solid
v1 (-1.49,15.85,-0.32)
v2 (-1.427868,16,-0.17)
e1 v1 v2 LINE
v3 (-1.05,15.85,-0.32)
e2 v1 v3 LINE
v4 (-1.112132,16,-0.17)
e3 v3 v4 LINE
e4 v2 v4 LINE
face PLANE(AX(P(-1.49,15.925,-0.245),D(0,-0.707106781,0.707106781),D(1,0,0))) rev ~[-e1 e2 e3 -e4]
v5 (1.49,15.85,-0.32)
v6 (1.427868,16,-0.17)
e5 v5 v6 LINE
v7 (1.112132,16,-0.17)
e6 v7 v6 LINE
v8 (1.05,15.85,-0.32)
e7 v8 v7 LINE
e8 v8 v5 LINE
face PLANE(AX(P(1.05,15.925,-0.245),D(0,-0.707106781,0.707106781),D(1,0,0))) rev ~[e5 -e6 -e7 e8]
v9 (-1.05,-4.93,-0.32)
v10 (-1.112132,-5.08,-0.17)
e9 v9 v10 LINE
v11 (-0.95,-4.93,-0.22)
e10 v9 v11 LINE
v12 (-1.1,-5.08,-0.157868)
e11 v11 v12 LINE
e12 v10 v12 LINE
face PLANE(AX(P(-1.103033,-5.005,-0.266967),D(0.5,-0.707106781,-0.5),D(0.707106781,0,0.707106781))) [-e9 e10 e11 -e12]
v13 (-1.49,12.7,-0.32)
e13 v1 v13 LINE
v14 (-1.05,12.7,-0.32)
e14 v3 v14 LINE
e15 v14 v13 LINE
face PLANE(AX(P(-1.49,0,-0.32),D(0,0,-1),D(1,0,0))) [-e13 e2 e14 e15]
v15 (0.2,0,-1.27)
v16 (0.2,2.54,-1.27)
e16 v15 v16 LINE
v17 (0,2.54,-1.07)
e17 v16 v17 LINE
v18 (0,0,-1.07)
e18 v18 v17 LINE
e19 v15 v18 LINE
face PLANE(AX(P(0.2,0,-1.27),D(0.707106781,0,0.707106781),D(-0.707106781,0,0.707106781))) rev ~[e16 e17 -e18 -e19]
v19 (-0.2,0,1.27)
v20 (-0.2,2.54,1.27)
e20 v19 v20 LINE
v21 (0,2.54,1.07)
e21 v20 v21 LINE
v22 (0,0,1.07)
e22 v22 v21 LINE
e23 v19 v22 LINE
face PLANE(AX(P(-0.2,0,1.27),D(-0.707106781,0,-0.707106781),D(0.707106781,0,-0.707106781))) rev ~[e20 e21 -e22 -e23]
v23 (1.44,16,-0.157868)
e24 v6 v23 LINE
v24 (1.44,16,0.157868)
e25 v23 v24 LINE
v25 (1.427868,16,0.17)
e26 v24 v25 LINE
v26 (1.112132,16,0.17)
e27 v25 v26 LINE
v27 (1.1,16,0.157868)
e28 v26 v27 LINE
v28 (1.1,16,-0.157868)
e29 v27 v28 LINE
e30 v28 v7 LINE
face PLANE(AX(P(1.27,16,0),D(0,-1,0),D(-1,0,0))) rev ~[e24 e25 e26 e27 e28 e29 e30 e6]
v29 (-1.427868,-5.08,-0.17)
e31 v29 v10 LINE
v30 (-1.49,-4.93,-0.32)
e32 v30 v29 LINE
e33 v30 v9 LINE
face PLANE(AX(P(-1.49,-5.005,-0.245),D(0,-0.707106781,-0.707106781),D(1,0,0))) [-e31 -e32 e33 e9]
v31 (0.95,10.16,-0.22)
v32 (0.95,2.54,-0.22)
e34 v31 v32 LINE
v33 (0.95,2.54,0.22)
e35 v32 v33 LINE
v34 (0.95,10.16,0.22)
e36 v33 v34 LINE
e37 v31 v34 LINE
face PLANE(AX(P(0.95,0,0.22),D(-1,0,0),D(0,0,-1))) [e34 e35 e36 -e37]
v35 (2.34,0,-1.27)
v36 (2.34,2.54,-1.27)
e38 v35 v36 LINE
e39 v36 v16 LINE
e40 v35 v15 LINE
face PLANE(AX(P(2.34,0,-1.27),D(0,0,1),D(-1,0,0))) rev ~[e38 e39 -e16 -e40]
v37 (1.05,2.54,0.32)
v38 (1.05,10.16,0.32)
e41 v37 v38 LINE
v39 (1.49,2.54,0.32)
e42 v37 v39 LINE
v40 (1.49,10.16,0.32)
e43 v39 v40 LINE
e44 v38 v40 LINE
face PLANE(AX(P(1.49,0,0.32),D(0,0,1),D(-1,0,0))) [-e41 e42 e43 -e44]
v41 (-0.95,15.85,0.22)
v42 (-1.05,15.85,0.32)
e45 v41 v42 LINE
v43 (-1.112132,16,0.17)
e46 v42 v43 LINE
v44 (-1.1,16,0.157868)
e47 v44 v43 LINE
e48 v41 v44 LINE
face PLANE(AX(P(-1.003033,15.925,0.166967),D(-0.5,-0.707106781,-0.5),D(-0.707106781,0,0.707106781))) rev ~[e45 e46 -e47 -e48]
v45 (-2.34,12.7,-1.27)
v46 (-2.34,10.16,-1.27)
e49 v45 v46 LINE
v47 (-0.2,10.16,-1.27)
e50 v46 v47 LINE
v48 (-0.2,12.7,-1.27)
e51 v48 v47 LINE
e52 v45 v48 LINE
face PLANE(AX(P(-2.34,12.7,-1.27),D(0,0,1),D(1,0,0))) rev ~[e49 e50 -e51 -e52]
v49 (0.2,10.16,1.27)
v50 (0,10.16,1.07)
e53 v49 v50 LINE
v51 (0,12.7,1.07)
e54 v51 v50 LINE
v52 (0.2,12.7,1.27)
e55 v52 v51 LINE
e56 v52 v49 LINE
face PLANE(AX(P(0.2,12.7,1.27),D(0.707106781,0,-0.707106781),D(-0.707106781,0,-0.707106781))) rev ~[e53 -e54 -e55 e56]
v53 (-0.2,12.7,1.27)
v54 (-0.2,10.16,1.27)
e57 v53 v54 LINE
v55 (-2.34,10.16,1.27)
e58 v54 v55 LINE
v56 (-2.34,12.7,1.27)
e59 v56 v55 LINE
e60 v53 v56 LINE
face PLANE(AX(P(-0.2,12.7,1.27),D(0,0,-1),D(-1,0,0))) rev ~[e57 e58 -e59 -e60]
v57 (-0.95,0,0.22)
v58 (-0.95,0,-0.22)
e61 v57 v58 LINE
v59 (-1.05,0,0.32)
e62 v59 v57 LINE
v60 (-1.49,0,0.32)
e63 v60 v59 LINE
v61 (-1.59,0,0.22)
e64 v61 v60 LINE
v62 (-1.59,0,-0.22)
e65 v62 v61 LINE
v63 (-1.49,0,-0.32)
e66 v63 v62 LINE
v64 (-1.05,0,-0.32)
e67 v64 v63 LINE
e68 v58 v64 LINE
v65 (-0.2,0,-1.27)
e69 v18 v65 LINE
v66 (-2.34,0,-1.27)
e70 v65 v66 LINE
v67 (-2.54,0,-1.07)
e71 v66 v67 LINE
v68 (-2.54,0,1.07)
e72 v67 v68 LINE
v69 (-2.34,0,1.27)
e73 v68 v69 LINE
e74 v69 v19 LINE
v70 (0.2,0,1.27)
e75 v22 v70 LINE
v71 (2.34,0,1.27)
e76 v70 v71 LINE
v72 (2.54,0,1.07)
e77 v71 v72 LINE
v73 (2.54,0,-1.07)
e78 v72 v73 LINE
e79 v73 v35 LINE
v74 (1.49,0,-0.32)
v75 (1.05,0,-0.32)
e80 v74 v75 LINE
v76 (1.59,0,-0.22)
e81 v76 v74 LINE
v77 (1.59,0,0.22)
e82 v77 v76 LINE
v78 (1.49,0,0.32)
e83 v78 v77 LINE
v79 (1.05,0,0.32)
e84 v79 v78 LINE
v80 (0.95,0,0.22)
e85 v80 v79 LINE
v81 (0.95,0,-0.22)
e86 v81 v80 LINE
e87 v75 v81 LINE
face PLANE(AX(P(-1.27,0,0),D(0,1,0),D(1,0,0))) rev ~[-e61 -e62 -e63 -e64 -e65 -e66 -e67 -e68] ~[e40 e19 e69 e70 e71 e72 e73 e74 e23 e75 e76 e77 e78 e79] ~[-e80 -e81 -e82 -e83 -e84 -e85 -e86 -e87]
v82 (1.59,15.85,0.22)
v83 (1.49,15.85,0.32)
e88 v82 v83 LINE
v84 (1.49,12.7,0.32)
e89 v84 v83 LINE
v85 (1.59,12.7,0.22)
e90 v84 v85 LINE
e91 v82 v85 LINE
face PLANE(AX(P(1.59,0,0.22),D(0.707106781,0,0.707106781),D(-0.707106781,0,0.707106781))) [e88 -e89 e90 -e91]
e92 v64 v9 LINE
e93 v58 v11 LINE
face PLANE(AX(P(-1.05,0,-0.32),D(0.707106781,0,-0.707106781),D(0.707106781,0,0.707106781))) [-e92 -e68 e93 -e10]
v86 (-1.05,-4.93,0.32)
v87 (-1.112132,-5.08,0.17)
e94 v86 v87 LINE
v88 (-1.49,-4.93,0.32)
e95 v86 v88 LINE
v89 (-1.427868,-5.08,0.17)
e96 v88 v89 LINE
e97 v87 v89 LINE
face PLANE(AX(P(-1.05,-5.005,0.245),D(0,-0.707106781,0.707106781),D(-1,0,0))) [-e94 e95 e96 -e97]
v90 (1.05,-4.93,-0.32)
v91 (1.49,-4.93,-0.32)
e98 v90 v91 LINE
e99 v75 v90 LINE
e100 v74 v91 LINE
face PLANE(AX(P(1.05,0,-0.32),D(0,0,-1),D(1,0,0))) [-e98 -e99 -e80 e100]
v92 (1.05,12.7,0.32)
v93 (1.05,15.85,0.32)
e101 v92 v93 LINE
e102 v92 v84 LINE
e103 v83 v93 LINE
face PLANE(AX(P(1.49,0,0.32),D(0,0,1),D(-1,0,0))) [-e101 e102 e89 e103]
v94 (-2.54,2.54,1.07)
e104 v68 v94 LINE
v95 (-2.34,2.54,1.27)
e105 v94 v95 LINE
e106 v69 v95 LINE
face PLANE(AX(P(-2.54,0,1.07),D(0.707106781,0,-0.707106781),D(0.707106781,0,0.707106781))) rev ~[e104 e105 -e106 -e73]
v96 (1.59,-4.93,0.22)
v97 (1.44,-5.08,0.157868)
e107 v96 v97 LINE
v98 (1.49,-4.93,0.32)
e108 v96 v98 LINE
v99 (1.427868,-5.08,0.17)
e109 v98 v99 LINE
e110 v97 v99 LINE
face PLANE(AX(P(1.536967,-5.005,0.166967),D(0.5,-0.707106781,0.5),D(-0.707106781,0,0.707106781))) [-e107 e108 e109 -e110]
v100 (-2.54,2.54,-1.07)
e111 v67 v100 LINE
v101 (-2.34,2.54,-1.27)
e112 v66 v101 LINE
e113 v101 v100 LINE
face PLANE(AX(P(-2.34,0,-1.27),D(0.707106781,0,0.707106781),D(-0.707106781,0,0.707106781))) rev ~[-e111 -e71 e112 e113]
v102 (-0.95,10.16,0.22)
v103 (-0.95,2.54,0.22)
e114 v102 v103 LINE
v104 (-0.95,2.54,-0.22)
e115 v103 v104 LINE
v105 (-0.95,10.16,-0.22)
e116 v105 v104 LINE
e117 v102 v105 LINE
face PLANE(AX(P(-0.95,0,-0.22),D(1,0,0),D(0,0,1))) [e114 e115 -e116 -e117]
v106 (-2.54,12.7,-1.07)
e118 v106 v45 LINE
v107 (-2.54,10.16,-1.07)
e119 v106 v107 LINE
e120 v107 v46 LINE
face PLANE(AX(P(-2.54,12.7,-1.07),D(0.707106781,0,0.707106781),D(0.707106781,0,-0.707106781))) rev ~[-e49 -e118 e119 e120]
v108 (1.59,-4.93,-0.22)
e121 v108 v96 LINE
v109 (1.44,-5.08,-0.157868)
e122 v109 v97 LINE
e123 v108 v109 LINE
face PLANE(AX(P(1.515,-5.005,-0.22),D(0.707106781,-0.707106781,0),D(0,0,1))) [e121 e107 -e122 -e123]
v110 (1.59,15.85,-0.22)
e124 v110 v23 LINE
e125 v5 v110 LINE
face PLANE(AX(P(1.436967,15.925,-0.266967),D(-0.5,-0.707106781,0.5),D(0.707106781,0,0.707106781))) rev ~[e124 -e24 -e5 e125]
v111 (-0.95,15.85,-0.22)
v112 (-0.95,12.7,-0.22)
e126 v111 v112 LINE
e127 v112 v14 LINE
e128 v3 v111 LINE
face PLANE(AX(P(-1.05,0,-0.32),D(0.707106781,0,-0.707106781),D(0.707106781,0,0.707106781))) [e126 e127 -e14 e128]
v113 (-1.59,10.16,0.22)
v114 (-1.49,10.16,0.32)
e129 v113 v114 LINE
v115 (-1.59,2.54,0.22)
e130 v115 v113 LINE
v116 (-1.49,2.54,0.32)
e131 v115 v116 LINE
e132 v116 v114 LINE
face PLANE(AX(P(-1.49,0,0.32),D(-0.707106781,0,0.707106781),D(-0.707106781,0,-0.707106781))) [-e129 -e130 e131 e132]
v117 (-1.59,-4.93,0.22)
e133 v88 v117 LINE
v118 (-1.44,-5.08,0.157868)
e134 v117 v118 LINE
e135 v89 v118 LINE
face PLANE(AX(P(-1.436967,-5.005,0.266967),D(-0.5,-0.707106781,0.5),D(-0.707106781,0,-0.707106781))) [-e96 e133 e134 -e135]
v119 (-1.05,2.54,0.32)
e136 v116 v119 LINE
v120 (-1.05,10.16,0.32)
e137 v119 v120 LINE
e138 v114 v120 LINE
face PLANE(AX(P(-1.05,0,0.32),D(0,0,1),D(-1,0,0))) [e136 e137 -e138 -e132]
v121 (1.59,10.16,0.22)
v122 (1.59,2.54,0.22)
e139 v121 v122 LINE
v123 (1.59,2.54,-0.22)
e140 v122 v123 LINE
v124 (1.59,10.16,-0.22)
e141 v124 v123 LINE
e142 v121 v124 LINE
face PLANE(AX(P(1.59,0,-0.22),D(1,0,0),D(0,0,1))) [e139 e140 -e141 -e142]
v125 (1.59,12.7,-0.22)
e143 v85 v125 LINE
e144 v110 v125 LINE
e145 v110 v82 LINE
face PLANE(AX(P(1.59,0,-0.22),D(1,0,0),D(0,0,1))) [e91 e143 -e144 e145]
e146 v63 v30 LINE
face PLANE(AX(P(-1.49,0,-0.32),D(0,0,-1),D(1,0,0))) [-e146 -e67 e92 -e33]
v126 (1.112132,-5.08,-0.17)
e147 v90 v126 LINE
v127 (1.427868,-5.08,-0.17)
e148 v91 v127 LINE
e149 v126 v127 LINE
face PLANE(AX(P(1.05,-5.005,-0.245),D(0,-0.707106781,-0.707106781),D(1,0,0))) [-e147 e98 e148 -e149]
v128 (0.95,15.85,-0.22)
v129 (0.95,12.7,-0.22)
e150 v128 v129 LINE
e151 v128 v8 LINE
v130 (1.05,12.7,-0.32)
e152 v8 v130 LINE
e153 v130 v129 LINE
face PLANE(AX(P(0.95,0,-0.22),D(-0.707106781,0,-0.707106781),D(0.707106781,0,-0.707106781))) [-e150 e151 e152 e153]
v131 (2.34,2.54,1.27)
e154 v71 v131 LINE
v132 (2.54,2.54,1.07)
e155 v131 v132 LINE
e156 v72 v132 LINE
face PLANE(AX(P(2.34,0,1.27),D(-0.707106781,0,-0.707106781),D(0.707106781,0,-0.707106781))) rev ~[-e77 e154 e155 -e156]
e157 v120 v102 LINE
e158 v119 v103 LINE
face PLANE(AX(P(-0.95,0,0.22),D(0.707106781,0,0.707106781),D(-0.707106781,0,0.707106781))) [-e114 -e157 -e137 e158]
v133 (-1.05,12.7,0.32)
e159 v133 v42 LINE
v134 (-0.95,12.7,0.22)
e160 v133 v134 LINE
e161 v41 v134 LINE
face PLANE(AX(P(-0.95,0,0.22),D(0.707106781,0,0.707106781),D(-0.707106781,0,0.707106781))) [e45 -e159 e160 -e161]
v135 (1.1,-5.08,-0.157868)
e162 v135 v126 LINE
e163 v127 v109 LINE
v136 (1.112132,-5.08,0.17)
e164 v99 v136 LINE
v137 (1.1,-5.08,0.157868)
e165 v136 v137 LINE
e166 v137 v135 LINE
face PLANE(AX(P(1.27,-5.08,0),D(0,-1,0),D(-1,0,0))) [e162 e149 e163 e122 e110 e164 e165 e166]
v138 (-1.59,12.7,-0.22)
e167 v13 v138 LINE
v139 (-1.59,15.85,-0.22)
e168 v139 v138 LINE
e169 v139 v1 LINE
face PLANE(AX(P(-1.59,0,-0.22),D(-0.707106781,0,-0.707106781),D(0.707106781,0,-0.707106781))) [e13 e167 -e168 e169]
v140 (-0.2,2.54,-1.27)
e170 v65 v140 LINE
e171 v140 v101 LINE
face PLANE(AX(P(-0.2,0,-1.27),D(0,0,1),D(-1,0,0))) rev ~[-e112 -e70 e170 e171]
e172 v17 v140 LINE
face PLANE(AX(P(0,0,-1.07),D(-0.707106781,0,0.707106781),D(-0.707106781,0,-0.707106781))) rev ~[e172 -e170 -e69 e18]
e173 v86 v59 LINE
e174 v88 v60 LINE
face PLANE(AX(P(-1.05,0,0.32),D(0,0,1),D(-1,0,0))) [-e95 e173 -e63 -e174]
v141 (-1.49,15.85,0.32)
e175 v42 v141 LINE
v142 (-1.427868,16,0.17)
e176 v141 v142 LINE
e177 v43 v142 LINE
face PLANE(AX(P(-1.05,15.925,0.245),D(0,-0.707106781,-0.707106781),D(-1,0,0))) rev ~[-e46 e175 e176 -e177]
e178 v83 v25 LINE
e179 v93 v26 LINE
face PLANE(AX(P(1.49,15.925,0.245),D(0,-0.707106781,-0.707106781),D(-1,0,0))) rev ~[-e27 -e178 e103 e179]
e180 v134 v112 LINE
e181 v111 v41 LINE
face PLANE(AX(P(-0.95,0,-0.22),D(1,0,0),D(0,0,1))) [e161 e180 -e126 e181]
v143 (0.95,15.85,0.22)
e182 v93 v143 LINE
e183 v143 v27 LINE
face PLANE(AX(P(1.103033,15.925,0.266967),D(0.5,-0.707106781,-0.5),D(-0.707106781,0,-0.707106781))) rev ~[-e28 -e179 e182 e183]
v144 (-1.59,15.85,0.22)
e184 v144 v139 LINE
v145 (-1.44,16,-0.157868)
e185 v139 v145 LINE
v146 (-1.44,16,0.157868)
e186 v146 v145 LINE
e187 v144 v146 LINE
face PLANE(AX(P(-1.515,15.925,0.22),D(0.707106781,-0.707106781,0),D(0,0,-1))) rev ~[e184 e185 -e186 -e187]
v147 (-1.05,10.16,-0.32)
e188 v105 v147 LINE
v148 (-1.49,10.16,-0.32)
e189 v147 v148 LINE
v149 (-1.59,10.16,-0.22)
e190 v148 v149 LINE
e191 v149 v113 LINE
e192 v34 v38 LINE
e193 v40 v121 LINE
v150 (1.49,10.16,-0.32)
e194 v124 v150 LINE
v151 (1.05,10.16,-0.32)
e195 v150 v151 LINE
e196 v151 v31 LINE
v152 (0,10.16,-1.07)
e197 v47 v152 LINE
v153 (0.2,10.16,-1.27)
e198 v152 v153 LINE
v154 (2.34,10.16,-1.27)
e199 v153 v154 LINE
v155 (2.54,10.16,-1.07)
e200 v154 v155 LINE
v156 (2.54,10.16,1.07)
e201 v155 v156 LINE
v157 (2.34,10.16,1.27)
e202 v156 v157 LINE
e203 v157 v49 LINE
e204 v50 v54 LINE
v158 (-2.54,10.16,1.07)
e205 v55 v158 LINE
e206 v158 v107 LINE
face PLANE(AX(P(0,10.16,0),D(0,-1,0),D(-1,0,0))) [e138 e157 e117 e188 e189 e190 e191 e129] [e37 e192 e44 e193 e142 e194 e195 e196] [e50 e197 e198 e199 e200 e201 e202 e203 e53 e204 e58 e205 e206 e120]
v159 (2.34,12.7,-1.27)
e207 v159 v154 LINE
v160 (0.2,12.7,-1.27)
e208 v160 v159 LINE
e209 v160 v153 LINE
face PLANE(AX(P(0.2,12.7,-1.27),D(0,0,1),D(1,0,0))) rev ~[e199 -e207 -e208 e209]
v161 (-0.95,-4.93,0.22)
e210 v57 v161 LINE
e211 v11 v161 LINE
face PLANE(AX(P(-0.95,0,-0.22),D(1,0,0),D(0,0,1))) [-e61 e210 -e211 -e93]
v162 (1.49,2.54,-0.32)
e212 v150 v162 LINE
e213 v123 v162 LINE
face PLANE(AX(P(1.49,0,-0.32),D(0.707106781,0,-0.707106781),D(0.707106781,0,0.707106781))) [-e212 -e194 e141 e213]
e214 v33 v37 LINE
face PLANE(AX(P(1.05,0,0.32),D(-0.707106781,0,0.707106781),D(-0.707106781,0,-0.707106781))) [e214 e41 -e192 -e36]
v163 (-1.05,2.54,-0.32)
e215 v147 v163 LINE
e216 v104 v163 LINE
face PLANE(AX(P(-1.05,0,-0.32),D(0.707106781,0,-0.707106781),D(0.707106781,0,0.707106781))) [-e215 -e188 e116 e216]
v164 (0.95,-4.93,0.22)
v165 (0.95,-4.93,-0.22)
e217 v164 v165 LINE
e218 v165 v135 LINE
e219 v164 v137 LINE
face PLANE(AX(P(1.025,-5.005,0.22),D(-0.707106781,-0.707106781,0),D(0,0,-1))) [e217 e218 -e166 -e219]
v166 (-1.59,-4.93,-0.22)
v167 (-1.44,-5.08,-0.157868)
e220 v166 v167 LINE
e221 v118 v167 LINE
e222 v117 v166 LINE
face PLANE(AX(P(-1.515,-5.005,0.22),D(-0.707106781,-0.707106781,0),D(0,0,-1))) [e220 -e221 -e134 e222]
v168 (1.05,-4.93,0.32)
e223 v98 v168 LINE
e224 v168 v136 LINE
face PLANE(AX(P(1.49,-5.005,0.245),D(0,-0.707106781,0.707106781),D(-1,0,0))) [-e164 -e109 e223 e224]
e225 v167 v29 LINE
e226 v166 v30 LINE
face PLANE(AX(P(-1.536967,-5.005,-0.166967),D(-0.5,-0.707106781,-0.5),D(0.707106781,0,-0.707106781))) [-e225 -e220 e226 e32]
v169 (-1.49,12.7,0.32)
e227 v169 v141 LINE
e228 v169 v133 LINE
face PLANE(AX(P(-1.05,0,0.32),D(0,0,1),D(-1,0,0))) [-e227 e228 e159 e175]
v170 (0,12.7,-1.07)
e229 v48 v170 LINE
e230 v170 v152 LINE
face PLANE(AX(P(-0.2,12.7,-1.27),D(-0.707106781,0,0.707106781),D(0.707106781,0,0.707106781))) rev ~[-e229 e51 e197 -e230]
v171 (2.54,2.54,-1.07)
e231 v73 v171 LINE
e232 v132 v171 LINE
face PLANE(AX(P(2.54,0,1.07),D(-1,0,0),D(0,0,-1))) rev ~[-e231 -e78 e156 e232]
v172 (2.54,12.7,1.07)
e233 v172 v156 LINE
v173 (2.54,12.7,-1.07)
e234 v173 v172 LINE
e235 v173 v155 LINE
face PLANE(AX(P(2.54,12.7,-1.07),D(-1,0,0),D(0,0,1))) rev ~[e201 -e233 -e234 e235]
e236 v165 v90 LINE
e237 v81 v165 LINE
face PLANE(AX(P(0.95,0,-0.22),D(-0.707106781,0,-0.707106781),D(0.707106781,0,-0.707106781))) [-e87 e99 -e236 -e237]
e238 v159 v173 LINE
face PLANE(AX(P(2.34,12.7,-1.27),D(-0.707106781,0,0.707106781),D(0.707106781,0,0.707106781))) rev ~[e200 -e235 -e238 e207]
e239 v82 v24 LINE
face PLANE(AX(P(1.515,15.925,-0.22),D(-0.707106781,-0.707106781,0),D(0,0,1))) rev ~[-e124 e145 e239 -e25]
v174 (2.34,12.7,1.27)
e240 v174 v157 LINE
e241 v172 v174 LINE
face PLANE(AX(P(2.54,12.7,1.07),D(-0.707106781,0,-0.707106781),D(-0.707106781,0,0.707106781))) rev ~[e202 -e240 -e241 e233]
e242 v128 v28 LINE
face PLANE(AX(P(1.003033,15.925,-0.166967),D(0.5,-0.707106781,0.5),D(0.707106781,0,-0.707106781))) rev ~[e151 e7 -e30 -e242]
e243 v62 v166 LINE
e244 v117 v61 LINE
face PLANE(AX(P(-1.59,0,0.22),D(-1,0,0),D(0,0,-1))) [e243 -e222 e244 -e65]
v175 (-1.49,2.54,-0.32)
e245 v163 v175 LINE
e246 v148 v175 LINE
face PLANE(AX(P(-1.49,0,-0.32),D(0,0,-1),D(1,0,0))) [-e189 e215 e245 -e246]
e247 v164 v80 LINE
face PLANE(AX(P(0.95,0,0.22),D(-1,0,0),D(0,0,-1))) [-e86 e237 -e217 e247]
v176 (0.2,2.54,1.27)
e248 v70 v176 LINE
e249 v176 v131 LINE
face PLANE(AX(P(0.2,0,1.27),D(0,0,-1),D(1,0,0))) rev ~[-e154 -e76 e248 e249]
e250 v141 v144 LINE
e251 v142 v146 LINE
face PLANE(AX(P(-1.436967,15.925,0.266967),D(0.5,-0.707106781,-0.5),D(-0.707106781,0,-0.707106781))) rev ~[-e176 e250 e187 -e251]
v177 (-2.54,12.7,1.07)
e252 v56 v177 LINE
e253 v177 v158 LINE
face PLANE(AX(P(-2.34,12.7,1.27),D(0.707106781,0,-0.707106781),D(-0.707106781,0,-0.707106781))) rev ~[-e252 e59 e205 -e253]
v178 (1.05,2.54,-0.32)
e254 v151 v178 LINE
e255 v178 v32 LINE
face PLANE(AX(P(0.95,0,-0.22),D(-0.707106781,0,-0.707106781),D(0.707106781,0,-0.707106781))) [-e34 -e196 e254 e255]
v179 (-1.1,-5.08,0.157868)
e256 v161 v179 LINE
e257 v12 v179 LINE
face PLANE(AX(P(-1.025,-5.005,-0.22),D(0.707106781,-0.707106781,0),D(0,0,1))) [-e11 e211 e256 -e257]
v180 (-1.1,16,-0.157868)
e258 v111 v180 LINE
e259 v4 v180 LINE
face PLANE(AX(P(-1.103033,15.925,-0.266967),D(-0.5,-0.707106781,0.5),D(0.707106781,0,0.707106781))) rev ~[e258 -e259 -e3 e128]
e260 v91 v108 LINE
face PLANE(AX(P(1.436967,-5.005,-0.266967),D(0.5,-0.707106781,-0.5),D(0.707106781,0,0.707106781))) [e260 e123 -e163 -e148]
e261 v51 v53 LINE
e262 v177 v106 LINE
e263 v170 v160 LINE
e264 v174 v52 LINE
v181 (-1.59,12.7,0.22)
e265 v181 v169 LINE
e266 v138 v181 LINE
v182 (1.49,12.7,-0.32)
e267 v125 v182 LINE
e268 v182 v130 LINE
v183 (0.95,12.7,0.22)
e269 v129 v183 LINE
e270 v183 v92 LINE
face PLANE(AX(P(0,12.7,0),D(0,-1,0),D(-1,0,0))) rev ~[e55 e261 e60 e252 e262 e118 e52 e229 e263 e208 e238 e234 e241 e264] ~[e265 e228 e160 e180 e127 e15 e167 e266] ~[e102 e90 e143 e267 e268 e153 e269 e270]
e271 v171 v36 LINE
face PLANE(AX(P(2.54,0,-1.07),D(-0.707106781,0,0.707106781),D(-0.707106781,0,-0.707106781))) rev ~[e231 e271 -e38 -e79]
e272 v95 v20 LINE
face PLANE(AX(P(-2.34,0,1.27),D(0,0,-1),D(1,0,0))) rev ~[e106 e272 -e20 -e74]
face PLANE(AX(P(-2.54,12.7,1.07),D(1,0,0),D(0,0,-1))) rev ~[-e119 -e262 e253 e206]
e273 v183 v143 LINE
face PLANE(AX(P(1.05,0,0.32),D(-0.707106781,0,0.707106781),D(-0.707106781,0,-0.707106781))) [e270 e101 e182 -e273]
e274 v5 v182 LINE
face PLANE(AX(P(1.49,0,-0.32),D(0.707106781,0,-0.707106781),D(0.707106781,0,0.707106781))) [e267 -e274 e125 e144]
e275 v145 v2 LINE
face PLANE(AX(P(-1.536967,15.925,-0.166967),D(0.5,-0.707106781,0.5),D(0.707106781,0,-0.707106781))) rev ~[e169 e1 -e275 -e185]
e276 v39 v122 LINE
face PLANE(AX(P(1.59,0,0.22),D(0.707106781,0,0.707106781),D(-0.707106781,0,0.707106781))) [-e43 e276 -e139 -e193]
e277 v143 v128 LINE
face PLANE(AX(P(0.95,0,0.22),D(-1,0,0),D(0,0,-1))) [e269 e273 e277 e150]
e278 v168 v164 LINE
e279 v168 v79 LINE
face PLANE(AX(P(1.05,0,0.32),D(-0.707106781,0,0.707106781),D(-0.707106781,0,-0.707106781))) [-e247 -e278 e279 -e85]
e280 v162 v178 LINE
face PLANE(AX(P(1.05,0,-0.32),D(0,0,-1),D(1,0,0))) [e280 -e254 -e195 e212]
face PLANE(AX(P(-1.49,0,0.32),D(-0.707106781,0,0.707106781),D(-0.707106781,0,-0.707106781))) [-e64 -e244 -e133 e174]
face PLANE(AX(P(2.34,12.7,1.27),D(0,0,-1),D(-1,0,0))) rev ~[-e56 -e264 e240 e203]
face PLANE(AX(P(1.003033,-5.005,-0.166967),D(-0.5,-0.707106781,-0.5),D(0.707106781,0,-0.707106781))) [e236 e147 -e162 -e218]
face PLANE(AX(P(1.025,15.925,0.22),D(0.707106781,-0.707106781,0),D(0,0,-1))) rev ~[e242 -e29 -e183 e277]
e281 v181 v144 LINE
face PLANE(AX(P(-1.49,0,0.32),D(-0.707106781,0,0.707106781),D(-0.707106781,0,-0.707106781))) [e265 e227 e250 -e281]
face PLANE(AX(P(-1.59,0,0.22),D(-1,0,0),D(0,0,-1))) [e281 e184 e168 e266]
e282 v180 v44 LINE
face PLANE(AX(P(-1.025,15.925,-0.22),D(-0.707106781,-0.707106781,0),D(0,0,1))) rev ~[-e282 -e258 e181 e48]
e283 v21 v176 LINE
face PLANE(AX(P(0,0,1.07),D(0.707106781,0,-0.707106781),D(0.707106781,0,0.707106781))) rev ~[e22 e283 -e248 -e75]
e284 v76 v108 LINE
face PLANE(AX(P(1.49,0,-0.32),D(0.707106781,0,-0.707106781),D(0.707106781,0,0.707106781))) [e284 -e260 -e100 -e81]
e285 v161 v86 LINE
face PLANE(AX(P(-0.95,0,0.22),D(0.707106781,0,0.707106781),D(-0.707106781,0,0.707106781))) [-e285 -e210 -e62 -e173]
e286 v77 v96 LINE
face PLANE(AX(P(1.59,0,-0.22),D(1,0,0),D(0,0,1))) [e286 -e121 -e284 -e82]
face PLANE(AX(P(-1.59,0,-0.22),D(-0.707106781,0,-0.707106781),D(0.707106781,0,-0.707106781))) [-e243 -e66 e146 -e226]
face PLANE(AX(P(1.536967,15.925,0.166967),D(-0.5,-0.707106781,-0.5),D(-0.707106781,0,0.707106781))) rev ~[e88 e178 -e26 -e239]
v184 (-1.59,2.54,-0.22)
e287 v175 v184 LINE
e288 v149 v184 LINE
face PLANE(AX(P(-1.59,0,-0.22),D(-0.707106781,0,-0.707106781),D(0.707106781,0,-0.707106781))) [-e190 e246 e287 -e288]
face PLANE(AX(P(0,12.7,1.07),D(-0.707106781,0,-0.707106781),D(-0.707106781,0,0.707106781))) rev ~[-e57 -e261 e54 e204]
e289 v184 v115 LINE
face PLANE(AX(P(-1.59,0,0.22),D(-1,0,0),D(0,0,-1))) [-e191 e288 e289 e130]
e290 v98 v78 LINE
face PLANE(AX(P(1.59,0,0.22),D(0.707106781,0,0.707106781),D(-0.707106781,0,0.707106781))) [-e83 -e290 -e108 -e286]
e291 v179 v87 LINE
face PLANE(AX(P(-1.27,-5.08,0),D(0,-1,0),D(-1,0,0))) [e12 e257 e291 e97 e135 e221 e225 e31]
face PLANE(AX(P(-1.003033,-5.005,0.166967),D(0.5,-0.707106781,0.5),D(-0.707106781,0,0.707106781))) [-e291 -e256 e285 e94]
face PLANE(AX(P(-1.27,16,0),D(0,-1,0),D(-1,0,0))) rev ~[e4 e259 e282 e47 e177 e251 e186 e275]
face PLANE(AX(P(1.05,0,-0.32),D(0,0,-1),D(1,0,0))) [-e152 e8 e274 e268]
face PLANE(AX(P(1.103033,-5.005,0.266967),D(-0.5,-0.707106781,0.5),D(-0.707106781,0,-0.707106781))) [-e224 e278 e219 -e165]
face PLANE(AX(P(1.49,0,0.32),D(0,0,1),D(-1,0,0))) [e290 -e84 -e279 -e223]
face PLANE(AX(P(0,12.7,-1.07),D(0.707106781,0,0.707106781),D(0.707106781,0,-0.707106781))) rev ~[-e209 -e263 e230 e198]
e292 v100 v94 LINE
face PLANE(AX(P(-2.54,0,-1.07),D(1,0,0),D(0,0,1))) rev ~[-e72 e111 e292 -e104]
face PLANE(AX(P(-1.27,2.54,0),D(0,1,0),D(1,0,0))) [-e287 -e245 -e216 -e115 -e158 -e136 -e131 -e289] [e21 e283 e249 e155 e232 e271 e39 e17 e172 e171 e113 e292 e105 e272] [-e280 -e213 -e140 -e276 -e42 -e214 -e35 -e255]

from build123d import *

# Parameters (mm, degrees)
EXTRUDE_1_DEPTH   = 5.08
EXTRUDE_1_2_DEPTH = 5.08
EXTRUDE_2_DEPTH   = 16
EXTRUDE_3_DEPTH   = 2.54
EXTRUDE_START     = 12.7
EXTRUDE_4_DEPTH   = 2.54
CHAMFER_1_SIZE    = 0.15


with BuildPart() as part:
    # Эскиз1 → Бобышка-Вытянуть1 (new body)
    with BuildSketch(Plane(origin=(0, 0, 0), x_dir=(1, 0, 0), z_dir=(0, 1, 0))):
        Polygon((-1.49, 0.32), (-1.59, 0.22), (-1.59, -0.22), (-1.49, -0.32), (-1.05, -0.32), (-0.95, -0.22), (-0.95, 0.22), (-1.05, 0.32), align=None)
    extrude(amount=-EXTRUDE_1_DEPTH)



with BuildPart() as body_2:
    # Эскиз1 → Extrude 1 2 (new body)
    with BuildSketch(Plane(origin=(0, 0, 0), x_dir=(1, 0, 0), z_dir=(0, 1, 0))):
        Polygon((1.05, 0.32), (0.95, 0.22), (0.95, -0.22), (1.05, -0.32), (1.49, -0.32), (1.59, -0.22), (1.59, 0.22), (1.49, 0.32), align=None)
    extrude(amount=-EXTRUDE_1_2_DEPTH)


with BuildPart() as part_1:
    add(part.part)

    add(body_2.part)  # Бобышка-Вытянуть2 merges body 2
    # Эскиз1<3> → Бобышка-Вытянуть2 (add)
    with BuildSketch(Plane(origin=(0, 0, 0), x_dir=(1, 0, 0), z_dir=(0, 1, 0))):
        Polygon((-1.49, 0.32), (-1.59, 0.22), (-1.59, -0.22), (-1.49, -0.32), (-1.05, -0.32), (-0.95, -0.22), (-0.95, 0.22), (-1.05, 0.32), align=None)
        Polygon((1.05, 0.32), (0.95, 0.22), (0.95, -0.22), (1.05, -0.32), (1.49, -0.32), (1.59, -0.22), (1.59, 0.22), (1.49, 0.32), align=None)
    extrude(amount=EXTRUDE_2_DEPTH)

    # Эскиз1<4> → Бобышка-Вытянуть3 (add)
    with BuildSketch(Plane(origin=(0, 0, 0), x_dir=(1, 0, 0), z_dir=(0, 1, 0))):
        Polygon((-0.2, 1.27), (-2.34, 1.27), (-2.54, 1.07), (-2.54, -1.07), (-2.34, -1.27), (-0.2, -1.27), (0, -1.07), (0.2, -1.27), (2.34, -1.27), (2.54, -1.07), (2.54, 1.07), (2.34, 1.27), (0.2, 1.27), (0, 1.07), align=None)
        Polygon((-1.59, -0.22), (-1.59, 0.22), (-1.49, 0.32), (-1.05, 0.32), (-0.95, 0.22), (-0.95, -0.22), (-1.05, -0.32), (-1.49, -0.32), align=None, mode=Mode.SUBTRACT)
        Polygon((0.95, 0.22), (1.05, 0.32), (1.49, 0.32), (1.59, 0.22), (1.59, -0.22), (1.49, -0.32), (1.05, -0.32), (0.95, -0.22), align=None, mode=Mode.SUBTRACT)
    extrude(amount=EXTRUDE_3_DEPTH)

    # Эскиз1<5> → Бобышка-Вытянуть4 (add)
    with BuildSketch(Plane(origin=(0, 0, 0), x_dir=(1, 0, 0), z_dir=(0, 1, 0)).offset(EXTRUDE_START)):
        Polygon((-0.2, 1.27), (-2.34, 1.27), (-2.54, 1.07), (-2.54, -1.07), (-2.34, -1.27), (-0.2, -1.27), (0, -1.07), (0.2, -1.27), (2.34, -1.27), (2.54, -1.07), (2.54, 1.07), (2.34, 1.27), (0.2, 1.27), (0, 1.07), align=None)
        Polygon((-1.59, -0.22), (-1.59, 0.22), (-1.49, 0.32), (-1.05, 0.32), (-0.95, 0.22), (-0.95, -0.22), (-1.05, -0.32), (-1.49, -0.32), align=None, mode=Mode.SUBTRACT)
        Polygon((0.95, 0.22), (1.05, 0.32), (1.49, 0.32), (1.59, 0.22), (1.59, -0.22), (1.49, -0.32), (1.05, -0.32), (0.95, -0.22), align=None, mode=Mode.SUBTRACT)
    extrude(amount=-EXTRUDE_4_DEPTH)

    # Фаска1
    chamfer_1_edges = [part_1.edges().sort_by_distance(p)[0] for p in [
        (-1.54, -5.08, 0.27),
        (-1.27, -5.08, 0.32),
        (-1, -5.08, 0.27),
        (-0.95, -5.08, 0),
        (-1, -5.08, -0.27),
        (-1.27, -5.08, -0.32),
        (-1.54, -5.08, -0.27),
        (-1.59, -5.08, 0),
        (1, -5.08, 0.27),
        (1.27, -5.08, 0.32),
        (1.54, -5.08, 0.27),
        (1.59, -5.08, 0),
        (1.54, -5.08, -0.27),
        (1.27, -5.08, -0.32),
        (1, -5.08, -0.27),
        (0.95, -5.08, 0),
        (1, 16, -0.27),
        (1.27, 16, -0.32),
        (1.54, 16, -0.27),
        (1.59, 16, 0),
        (1.54, 16, 0.27),
        (1.27, 16, 0.32),
        (1, 16, 0.27),
        (0.95, 16, 0),
        (-1.54, 16, -0.27),
        (-1.27, 16, -0.32),
        (-1, 16, -0.27),
        (-0.95, 16, 0),
        (-1, 16, 0.27),
        (-1.27, 16, 0.32),
        (-1.54, 16, 0.27),
        (-1.59, 16, 0),
    ]]
    chamfer(chamfer_1_edges, length=CHAMFER_1_SIZE)


solid = part_1.part
